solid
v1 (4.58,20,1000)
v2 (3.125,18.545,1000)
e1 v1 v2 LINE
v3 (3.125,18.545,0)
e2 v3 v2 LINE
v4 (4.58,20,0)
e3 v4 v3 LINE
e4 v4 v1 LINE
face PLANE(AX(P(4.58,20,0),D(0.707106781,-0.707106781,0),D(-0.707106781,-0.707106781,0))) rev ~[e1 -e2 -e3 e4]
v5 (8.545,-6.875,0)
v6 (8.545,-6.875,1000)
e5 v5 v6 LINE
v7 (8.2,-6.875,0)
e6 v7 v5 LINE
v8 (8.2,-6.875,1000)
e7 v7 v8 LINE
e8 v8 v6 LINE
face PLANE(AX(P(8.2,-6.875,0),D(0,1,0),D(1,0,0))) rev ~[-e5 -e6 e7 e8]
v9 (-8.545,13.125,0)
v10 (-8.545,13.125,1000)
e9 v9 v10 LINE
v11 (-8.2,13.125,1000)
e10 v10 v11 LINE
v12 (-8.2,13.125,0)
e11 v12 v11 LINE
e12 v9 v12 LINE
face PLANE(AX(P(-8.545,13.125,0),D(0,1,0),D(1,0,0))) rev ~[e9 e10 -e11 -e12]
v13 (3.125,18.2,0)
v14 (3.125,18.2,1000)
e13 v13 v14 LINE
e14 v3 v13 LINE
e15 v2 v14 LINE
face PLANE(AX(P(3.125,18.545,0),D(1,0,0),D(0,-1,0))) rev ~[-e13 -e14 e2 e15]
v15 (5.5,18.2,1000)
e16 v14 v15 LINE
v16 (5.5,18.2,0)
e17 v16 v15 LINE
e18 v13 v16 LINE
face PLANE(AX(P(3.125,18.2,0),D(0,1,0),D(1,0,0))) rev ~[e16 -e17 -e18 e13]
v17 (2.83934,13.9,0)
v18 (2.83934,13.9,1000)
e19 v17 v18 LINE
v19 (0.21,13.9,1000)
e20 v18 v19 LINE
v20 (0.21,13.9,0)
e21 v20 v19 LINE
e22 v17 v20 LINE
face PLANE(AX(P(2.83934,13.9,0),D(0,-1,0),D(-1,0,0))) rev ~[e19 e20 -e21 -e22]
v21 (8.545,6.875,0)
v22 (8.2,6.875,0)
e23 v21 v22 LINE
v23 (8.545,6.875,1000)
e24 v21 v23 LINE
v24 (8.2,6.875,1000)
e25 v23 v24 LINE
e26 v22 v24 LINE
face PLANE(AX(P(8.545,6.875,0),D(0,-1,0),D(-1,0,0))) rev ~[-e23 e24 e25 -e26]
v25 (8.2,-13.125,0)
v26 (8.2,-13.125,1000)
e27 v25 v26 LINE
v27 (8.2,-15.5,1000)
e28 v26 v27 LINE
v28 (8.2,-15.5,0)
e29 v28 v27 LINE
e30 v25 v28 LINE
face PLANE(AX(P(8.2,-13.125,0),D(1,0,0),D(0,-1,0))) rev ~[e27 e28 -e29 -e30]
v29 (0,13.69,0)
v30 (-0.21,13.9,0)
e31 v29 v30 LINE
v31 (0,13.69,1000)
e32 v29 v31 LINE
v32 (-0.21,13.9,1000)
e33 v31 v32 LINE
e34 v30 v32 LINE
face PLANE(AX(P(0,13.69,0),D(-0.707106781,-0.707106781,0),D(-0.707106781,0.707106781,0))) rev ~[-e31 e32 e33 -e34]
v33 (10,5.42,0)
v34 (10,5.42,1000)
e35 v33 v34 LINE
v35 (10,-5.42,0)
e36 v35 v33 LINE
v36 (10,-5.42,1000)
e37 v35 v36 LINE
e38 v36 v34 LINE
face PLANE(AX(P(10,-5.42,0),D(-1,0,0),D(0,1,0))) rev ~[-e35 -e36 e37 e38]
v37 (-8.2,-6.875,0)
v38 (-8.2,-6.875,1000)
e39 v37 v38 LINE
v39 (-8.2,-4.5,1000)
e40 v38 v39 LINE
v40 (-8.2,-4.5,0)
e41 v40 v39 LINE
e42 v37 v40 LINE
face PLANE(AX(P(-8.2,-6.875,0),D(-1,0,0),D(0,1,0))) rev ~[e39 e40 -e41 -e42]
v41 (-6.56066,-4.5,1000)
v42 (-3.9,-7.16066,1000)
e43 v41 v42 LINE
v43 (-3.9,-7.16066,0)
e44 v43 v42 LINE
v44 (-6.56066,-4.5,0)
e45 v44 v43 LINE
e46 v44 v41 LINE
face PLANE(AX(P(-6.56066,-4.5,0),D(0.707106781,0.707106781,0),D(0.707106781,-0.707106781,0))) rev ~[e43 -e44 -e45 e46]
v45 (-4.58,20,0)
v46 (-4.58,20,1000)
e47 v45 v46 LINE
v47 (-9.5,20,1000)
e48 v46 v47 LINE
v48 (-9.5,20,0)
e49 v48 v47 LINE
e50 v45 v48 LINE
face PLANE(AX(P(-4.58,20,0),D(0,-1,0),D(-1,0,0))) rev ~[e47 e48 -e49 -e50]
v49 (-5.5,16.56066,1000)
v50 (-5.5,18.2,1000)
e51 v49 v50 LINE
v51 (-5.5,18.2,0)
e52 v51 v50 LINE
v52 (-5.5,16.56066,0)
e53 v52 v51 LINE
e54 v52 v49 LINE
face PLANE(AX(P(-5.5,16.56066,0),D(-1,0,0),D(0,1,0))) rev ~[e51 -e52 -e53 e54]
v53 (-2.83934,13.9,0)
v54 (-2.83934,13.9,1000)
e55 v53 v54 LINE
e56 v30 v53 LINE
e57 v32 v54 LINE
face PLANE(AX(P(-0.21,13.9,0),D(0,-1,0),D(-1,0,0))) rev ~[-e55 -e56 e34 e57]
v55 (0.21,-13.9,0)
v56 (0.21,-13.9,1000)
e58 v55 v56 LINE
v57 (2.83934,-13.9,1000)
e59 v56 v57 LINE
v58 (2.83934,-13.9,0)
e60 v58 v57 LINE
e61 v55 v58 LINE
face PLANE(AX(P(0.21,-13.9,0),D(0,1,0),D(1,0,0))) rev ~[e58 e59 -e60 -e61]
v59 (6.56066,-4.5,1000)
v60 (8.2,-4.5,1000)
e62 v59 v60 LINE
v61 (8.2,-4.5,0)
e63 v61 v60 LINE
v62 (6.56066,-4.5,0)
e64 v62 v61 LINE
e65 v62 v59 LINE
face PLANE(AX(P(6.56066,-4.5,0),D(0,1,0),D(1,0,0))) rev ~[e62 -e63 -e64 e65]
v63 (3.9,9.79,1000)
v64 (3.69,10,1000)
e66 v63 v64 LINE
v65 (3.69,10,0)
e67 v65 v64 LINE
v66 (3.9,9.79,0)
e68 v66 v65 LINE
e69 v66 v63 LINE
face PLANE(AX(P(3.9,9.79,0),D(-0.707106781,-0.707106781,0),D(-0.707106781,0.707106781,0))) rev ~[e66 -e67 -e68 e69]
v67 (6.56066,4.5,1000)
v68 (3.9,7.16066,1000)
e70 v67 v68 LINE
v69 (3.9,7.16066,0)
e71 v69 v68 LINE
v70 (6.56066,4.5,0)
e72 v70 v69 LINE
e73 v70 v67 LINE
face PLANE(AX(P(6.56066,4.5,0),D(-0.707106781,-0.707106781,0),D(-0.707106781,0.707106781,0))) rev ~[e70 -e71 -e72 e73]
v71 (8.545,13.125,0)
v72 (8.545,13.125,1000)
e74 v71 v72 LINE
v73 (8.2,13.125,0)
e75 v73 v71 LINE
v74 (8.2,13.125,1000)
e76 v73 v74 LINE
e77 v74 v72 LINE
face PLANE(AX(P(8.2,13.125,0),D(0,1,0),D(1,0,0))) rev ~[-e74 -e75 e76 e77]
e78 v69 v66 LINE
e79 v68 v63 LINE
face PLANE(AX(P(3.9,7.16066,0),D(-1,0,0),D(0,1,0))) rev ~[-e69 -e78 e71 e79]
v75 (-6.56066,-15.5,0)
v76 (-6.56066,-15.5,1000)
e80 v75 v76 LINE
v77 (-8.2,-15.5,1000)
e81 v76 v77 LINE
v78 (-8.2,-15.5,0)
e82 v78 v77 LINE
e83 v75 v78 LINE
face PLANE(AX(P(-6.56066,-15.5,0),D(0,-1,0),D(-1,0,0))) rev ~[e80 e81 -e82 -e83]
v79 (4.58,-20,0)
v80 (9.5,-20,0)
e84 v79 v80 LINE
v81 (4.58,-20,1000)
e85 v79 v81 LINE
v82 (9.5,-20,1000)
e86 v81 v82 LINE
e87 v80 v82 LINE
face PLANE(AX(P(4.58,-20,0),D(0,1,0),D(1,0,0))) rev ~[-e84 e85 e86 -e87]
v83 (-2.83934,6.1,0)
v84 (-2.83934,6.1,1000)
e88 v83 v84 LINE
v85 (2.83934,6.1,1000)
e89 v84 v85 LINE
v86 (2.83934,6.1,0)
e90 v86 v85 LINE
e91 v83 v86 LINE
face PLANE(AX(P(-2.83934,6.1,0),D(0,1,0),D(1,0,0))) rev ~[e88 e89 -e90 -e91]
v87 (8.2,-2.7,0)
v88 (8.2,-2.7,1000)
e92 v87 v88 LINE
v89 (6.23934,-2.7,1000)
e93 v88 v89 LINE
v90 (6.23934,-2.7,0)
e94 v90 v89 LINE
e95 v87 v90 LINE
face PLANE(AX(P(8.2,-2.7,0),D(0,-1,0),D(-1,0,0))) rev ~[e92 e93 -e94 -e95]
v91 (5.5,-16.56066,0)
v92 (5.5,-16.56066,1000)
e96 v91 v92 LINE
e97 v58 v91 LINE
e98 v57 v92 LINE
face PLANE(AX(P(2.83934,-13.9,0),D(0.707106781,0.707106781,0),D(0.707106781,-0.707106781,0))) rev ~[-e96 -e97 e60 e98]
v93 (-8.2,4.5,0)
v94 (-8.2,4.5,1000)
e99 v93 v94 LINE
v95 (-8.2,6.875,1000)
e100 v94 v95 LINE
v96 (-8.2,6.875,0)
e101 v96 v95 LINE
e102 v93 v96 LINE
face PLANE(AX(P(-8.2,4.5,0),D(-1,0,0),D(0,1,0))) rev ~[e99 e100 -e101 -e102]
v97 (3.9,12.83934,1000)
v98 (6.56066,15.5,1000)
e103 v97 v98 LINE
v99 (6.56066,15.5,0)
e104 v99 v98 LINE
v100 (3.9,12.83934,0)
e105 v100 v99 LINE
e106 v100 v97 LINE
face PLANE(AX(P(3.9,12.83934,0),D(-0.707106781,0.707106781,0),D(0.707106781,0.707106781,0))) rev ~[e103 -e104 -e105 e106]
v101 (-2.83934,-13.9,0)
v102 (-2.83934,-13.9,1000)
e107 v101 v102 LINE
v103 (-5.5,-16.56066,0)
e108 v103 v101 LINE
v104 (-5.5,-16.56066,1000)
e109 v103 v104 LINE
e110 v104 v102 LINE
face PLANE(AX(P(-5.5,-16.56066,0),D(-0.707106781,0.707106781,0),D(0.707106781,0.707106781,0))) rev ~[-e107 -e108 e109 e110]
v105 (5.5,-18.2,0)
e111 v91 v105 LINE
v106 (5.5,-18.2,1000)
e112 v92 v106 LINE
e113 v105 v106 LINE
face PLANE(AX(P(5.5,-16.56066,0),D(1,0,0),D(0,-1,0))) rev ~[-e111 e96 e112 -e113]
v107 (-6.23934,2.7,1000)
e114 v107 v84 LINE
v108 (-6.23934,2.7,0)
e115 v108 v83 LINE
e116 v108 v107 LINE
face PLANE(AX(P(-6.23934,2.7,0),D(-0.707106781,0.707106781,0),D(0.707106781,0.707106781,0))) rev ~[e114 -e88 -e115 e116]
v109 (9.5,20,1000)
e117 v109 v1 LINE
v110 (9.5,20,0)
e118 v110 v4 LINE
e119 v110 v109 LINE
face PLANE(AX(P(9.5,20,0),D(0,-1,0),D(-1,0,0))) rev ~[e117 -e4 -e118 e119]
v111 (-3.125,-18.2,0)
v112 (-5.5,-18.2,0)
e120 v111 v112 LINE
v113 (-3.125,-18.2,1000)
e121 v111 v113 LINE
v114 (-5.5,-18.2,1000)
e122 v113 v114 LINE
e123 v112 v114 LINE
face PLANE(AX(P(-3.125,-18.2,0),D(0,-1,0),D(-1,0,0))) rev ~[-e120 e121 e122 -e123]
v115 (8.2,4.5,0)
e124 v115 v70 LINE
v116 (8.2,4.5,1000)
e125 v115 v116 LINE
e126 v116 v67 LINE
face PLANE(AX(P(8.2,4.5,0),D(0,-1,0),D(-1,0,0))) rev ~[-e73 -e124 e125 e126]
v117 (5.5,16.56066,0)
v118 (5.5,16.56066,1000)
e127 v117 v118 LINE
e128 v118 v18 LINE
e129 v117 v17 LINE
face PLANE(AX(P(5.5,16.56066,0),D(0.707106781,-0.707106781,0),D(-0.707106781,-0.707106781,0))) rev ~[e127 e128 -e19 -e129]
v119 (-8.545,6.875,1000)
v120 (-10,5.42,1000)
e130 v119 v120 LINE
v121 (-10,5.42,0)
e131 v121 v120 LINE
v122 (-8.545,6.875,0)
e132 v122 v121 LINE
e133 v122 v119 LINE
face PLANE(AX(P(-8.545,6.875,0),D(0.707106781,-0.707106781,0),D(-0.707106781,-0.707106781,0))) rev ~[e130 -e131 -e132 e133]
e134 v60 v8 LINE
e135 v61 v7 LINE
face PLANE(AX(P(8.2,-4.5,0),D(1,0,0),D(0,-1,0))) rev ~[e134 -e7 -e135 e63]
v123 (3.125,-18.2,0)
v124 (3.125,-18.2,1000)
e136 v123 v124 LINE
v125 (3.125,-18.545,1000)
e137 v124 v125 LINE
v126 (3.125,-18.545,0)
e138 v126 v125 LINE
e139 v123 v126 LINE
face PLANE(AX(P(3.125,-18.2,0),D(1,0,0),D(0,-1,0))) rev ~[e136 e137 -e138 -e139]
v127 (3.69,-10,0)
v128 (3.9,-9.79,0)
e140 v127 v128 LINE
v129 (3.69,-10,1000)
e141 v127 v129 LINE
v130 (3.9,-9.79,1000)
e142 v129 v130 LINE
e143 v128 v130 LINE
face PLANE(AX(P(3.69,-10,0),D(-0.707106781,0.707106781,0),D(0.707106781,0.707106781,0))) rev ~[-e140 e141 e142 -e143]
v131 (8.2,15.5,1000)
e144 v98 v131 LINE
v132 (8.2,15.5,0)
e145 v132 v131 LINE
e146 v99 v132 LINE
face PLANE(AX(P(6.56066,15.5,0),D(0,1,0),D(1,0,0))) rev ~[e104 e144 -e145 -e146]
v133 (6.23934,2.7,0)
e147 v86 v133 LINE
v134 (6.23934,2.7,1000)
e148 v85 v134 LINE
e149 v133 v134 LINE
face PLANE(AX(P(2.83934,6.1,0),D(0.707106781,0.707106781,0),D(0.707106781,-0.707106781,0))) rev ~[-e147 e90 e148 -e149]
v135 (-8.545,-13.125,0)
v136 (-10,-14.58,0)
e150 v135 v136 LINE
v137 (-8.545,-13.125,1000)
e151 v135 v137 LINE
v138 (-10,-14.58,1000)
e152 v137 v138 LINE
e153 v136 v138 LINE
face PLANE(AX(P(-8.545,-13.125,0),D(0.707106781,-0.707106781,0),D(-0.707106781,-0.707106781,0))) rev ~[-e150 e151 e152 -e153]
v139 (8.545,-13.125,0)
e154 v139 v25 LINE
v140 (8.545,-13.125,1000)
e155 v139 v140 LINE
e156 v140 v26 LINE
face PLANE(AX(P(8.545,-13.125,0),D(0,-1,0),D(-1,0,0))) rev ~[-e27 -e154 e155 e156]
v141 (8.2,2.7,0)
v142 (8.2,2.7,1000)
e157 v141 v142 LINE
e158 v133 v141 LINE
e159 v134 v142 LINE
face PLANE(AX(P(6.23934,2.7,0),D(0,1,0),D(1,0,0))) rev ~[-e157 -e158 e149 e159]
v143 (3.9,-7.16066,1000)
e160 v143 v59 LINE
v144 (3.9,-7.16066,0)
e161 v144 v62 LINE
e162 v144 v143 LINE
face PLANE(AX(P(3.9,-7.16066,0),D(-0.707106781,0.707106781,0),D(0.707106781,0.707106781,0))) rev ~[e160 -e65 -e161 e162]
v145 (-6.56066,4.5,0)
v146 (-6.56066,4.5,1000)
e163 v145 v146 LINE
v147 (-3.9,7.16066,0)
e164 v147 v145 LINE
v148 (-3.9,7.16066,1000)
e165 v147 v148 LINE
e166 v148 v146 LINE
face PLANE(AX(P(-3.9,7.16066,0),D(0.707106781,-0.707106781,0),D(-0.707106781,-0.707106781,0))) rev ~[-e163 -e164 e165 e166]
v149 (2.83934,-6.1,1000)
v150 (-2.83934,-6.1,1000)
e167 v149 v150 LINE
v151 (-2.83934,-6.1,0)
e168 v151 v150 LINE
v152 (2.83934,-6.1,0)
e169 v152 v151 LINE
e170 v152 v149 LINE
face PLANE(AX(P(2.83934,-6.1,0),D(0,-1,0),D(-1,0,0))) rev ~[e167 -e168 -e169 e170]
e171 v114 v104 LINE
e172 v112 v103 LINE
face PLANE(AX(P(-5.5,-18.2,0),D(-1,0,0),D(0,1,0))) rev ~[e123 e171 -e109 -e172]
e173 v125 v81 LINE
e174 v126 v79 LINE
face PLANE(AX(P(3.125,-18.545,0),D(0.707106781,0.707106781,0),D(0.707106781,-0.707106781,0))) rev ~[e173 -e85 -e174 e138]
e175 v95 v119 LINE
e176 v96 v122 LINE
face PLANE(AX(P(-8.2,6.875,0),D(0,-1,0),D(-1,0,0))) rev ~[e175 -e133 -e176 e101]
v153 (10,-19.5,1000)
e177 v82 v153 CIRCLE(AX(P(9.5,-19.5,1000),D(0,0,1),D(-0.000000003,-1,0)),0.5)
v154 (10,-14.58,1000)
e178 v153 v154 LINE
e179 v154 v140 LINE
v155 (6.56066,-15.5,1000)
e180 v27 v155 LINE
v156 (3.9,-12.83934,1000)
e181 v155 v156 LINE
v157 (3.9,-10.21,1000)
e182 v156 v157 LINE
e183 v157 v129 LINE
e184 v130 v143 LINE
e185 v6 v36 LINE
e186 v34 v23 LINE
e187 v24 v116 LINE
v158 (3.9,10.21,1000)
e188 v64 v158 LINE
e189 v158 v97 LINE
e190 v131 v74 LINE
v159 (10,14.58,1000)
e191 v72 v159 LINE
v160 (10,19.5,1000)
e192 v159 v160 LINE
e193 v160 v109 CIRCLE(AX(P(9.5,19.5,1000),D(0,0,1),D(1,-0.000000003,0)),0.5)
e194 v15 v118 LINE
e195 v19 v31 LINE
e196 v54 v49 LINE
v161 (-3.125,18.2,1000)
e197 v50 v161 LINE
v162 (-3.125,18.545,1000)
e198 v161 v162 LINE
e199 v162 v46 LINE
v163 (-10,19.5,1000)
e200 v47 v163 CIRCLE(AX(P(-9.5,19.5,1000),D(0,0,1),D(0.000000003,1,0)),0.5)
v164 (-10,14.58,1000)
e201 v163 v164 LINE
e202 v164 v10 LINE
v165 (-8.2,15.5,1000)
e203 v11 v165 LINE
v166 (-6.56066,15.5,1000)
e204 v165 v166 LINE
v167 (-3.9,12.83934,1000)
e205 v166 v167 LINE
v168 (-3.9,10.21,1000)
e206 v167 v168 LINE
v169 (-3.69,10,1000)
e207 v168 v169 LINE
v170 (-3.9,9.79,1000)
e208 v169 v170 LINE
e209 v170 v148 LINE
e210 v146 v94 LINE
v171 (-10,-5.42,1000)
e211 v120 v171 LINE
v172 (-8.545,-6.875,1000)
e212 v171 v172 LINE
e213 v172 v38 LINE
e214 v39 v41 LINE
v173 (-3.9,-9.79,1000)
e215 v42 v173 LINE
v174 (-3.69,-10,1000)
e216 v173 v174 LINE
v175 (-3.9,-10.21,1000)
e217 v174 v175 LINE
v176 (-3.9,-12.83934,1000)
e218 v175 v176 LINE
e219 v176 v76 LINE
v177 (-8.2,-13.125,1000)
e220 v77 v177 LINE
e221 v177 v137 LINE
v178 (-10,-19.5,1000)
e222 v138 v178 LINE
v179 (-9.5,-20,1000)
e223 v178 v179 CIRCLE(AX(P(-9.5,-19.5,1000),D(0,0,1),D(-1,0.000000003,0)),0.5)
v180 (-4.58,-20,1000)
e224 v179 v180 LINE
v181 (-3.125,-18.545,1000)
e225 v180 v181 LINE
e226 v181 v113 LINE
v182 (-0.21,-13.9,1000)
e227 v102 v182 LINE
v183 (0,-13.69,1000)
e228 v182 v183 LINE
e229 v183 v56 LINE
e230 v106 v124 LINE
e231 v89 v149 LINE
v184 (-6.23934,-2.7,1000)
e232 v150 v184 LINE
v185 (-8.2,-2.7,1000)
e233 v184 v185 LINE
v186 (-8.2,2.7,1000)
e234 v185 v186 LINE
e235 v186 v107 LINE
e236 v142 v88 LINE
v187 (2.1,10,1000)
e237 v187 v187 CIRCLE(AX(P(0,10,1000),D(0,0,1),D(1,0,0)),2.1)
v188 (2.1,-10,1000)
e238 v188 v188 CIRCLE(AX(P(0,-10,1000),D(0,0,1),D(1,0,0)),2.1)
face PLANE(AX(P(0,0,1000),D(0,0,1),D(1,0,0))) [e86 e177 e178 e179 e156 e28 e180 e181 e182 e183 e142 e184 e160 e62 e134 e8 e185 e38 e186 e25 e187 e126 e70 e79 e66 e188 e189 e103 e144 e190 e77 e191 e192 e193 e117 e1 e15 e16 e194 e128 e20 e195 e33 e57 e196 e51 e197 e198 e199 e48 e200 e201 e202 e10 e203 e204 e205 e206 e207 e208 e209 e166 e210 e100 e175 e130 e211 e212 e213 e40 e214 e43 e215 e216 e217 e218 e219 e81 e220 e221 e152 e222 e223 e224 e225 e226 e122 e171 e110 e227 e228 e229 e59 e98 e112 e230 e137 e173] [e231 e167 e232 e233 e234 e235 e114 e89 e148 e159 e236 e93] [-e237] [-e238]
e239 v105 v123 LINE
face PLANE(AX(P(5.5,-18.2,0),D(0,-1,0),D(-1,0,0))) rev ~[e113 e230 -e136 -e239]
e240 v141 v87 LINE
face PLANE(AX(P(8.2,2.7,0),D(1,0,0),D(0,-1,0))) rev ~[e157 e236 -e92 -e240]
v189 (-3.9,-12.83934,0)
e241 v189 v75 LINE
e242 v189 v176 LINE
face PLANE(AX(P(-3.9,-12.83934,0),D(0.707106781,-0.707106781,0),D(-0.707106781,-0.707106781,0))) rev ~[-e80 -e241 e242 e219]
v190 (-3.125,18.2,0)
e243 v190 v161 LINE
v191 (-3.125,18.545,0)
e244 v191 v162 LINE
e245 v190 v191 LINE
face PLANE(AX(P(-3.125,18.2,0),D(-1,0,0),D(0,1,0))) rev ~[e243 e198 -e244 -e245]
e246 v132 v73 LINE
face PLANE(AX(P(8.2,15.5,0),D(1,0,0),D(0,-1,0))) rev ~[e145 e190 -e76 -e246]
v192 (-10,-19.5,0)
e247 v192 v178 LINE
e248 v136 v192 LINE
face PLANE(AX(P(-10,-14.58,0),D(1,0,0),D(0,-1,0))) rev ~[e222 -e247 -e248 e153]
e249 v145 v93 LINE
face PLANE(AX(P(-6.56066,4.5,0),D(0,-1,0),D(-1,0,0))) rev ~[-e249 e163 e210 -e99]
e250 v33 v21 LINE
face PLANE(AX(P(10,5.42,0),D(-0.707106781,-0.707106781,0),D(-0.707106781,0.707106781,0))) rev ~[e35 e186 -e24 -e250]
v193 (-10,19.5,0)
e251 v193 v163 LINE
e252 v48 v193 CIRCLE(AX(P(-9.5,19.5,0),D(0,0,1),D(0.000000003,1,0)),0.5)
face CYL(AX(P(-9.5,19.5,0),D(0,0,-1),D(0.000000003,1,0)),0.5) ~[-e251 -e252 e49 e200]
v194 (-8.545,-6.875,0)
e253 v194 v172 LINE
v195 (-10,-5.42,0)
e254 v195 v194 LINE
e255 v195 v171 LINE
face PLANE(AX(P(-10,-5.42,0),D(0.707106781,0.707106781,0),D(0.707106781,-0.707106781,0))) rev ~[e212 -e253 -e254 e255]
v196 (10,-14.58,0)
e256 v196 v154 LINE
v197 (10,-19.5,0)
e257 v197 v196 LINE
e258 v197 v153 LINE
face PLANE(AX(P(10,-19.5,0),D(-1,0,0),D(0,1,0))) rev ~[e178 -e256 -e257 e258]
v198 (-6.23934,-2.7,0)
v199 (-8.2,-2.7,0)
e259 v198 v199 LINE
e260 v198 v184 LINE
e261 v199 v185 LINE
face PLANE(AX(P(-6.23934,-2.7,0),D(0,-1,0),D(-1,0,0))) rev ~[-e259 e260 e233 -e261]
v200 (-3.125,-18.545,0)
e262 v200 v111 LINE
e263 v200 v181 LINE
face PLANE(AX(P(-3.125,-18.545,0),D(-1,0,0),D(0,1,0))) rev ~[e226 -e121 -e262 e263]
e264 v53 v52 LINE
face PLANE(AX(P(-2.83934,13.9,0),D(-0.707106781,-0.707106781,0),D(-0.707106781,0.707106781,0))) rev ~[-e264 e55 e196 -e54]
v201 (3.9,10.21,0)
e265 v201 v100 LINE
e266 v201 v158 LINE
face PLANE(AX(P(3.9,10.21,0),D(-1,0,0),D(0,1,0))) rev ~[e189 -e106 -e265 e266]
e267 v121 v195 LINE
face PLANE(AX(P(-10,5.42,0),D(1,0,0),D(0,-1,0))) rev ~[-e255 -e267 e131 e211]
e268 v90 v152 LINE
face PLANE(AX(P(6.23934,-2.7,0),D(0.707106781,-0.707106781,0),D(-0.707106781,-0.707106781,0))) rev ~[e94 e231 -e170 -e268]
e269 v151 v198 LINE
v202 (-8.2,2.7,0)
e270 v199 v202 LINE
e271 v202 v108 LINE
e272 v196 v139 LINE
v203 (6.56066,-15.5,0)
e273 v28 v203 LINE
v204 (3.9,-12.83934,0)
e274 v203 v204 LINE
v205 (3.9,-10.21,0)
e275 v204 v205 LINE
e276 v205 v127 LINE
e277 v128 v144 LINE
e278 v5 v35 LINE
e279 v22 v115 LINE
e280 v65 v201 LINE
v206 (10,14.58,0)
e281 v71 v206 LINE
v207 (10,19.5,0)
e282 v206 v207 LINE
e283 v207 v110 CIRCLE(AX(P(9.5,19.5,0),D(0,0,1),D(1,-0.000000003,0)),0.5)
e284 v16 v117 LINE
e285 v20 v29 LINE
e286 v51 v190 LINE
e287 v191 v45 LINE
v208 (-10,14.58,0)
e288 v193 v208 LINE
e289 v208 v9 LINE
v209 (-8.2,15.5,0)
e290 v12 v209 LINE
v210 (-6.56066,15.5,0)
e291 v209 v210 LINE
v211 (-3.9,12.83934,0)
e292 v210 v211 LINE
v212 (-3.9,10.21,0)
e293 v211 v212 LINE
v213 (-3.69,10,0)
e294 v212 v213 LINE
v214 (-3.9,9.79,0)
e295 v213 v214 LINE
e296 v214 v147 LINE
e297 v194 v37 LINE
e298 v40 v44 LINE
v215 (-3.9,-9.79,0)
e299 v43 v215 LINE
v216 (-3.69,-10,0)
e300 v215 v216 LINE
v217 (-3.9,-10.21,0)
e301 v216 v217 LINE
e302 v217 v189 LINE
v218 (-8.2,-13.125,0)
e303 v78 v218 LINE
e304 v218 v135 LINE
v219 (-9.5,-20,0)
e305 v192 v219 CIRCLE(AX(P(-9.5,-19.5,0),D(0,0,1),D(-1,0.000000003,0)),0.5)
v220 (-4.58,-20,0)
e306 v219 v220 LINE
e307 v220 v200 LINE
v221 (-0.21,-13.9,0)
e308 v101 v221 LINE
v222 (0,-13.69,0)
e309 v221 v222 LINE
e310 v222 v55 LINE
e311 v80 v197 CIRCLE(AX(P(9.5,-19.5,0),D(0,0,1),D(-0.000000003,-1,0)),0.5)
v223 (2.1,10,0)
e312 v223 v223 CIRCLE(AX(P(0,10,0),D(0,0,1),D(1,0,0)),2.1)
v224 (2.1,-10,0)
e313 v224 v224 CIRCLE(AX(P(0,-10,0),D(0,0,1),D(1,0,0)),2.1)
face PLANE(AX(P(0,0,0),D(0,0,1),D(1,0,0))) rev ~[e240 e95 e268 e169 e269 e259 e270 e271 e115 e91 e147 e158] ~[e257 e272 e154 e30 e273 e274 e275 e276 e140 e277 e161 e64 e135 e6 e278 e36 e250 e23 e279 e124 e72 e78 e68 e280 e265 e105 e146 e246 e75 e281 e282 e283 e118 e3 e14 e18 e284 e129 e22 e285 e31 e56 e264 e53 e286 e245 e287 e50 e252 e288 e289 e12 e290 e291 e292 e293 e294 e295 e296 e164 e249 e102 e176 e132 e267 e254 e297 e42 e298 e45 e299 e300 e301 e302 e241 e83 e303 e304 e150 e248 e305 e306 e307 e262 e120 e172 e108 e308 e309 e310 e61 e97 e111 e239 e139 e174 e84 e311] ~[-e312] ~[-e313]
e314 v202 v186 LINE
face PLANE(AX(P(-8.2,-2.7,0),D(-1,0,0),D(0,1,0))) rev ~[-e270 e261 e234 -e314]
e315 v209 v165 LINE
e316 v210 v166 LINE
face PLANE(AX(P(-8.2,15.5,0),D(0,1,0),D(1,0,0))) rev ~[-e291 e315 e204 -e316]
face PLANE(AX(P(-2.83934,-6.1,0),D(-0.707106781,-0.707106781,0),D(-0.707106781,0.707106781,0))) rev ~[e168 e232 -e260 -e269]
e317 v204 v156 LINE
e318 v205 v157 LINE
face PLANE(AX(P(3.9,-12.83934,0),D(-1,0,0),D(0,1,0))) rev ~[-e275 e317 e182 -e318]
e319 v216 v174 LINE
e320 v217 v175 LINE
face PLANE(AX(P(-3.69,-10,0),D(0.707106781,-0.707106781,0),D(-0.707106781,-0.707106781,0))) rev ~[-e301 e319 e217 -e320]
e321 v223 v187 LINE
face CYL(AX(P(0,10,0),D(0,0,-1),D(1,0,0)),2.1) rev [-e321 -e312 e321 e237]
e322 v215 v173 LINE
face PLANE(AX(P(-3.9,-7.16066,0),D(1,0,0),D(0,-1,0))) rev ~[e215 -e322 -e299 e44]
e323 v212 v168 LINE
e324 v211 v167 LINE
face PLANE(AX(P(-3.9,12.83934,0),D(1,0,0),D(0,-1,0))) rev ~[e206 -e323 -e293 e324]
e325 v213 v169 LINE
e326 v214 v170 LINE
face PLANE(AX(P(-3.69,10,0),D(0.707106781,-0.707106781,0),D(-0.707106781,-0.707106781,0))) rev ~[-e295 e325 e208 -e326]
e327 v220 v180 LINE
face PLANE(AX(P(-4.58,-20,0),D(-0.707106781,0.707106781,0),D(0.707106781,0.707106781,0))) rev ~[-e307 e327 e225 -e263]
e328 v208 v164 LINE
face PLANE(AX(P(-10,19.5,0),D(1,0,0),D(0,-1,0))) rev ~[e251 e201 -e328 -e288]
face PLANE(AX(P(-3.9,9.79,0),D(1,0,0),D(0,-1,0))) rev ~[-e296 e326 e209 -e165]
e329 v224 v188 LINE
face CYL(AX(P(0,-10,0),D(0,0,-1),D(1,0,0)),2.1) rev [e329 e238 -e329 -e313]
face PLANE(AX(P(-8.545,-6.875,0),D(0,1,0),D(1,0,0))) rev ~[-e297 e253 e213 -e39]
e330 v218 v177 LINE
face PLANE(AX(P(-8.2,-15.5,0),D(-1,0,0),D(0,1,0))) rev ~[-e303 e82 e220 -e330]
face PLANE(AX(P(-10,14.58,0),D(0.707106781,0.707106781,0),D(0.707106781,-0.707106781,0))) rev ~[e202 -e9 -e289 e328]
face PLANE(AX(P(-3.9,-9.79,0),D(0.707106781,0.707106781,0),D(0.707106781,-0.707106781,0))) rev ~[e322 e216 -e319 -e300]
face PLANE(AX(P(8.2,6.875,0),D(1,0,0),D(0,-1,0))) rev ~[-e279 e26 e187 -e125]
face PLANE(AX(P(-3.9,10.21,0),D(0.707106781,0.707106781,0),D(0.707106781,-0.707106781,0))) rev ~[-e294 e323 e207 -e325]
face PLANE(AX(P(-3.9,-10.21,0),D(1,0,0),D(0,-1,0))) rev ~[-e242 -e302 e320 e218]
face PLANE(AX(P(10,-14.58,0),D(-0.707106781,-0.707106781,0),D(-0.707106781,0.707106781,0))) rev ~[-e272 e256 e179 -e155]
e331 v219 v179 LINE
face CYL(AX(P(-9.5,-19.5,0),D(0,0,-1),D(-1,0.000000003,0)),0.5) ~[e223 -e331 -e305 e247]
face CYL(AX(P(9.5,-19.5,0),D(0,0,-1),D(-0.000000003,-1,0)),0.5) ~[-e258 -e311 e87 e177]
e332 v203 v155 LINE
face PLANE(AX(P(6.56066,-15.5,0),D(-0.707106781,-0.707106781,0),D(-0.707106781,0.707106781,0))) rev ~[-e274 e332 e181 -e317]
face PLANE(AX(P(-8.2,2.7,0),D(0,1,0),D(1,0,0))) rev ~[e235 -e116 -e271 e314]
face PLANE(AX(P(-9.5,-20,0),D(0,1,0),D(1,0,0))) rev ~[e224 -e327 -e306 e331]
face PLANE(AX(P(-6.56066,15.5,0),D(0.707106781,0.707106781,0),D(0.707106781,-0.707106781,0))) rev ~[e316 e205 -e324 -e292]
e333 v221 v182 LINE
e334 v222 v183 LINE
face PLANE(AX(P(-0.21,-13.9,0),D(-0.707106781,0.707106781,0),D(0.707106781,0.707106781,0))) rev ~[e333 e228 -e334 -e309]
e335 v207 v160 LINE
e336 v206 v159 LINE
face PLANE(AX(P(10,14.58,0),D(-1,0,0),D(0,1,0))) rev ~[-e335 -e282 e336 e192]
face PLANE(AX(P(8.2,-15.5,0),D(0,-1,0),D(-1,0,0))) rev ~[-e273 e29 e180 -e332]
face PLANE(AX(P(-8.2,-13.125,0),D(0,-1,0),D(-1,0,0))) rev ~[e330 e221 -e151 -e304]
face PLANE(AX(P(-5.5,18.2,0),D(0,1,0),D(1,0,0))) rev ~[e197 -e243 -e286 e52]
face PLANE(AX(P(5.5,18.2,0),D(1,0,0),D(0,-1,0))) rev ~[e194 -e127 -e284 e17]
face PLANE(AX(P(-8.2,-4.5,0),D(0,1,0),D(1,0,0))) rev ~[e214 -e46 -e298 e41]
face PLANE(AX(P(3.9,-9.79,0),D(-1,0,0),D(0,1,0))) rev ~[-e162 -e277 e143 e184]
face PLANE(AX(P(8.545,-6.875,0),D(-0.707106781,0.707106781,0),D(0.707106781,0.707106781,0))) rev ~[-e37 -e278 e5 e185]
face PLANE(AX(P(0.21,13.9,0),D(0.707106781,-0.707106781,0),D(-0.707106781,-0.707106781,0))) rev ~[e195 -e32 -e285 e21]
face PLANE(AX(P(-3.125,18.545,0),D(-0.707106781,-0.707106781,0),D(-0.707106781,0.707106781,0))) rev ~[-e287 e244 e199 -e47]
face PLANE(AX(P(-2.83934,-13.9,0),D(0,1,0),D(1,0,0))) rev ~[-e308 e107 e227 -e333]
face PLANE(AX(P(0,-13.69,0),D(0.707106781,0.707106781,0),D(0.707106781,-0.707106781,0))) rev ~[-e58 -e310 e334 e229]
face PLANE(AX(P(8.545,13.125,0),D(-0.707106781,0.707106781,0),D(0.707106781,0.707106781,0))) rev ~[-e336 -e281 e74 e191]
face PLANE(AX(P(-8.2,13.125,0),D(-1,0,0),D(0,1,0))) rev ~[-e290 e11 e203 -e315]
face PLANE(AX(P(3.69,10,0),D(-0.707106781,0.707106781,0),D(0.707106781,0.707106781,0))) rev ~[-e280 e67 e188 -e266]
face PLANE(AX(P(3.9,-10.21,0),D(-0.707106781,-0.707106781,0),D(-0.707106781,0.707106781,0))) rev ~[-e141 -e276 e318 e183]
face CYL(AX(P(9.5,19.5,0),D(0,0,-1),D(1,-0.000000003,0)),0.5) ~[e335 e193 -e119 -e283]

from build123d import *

# Parameters (mm, degrees)
SKETCH1_R           = 2.1
BOSS_EXTRUDE1_DEPTH = 1000


with BuildPart() as part:
    # Sketch1 → Boss-Extrude1 (new body)
    with BuildSketch(Plane.XY):
        with BuildLine():
            Line((4.58, -20), (9.5, -20))
            ThreePointArc((9.5, -20), (9.853553391, -19.853553391), (10, -19.5))
            Line((10, -19.5), (10, -14.58))
            Line((10, -14.58), (8.545, -13.125))
            Line((8.545, -13.125), (8.2, -13.125))
            Line((8.2, -13.125), (8.2, -15.5))
            Line((8.2, -15.5), (6.560660172, -15.5))
            Line((6.560660172, -15.5), (3.9, -12.839339828))
            Line((3.9, -12.839339828), (3.9, -10.21))
            Line((3.9, -10.21), (3.69, -10))
            Line((3.69, -10), (3.9, -9.79))
            Line((3.9, -9.79), (3.9, -7.160660172))
            Line((3.9, -7.160660172), (6.560660172, -4.5))
            Line((6.560660172, -4.5), (8.2, -4.5))
            Line((8.2, -4.5), (8.2, -6.875))
            Line((8.2, -6.875), (8.545, -6.875))
            Line((8.545, -6.875), (10, -5.42))
            Line((10, -5.42), (10, 5.42))
            Line((10, 5.42), (8.545, 6.875))
            Line((8.545, 6.875), (8.2, 6.875))
            Line((8.2, 6.875), (8.2, 4.5))
            Line((8.2, 4.5), (6.560660172, 4.5))
            Line((6.560660172, 4.5), (3.9, 7.160660172))
            Line((3.9, 7.160660172), (3.9, 9.79))
            Line((3.9, 9.79), (3.69, 10))
            Line((3.69, 10), (3.9, 10.21))
            Line((3.9, 10.21), (3.9, 12.839339828))
            Line((3.9, 12.839339828), (6.560660172, 15.5))
            Line((6.560660172, 15.5), (8.2, 15.5))
            Line((8.2, 15.5), (8.2, 13.125))
            Line((8.2, 13.125), (8.545, 13.125))
            Line((8.545, 13.125), (10, 14.58))
            Line((10, 14.58), (10, 19.5))
            ThreePointArc((10, 19.5), (9.853553391, 19.853553391), (9.5, 20))
            Line((9.5, 20), (4.58, 20))
            Line((4.58, 20), (3.125, 18.545))
            Line((3.125, 18.545), (3.125, 18.2))
            Line((3.125, 18.2), (5.5, 18.2))
            Line((5.5, 18.2), (5.5, 16.560660172))
            Line((5.5, 16.560660172), (2.839339828, 13.9))
            Line((2.839339828, 13.9), (0.21, 13.9))
            Line((0.21, 13.9), (0, 13.69))
            Line((0, 13.69), (-0.21, 13.9))
            Line((-0.21, 13.9), (-2.839339828, 13.9))
            Line((-2.839339828, 13.9), (-5.5, 16.560660172))
            Line((-5.5, 16.560660172), (-5.5, 18.2))
            Line((-5.5, 18.2), (-3.125, 18.2))
            Line((-3.125, 18.2), (-3.125, 18.545))
            Line((-3.125, 18.545), (-4.58, 20))
            Line((-4.58, 20), (-9.5, 20))
            ThreePointArc((-9.5, 20), (-9.853553391, 19.853553391), (-10, 19.5))
            Line((-10, 19.5), (-10, 14.58))
            Line((-10, 14.58), (-8.545, 13.125))
            Line((-8.545, 13.125), (-8.2, 13.125))
            Line((-8.2, 13.125), (-8.2, 15.5))
            Line((-8.2, 15.5), (-6.560660172, 15.5))
            Line((-6.560660172, 15.5), (-3.9, 12.839339828))
            Line((-3.9, 12.839339828), (-3.9, 10.21))
            Line((-3.9, 10.21), (-3.69, 10))
            Line((-3.69, 10), (-3.9, 9.79))
            Line((-3.9, 9.79), (-3.9, 7.160660172))
            Line((-3.9, 7.160660172), (-6.560660172, 4.5))
            Line((-6.560660172, 4.5), (-8.2, 4.5))
            Line((-8.2, 4.5), (-8.2, 6.875))
            Line((-8.2, 6.875), (-8.545, 6.875))
            Line((-8.545, 6.875), (-10, 5.42))
            Line((-10, 5.42), (-10, -5.42))
            Line((-10, -5.42), (-8.545, -6.875))
            Line((-8.545, -6.875), (-8.2, -6.875))
            Line((-8.2, -6.875), (-8.2, -4.5))
            Line((-8.2, -4.5), (-6.560660172, -4.5))
            Line((-6.560660172, -4.5), (-3.9, -7.160660172))
            Line((-3.9, -7.160660172), (-3.9, -9.79))
            Line((-3.9, -9.79), (-3.69, -10))
            Line((-3.69, -10), (-3.9, -10.21))
            Line((-3.9, -10.21), (-3.9, -12.839339828))
            Line((-3.9, -12.839339828), (-6.560660172, -15.5))
            Line((-6.560660172, -15.5), (-8.2, -15.5))
            Line((-8.2, -15.5), (-8.2, -13.125))
            Line((-8.2, -13.125), (-8.545, -13.125))
            Line((-8.545, -13.125), (-10, -14.58))
            Line((-10, -14.58), (-10, -19.5))
            ThreePointArc((-10, -19.5), (-9.853553391, -19.853553391), (-9.5, -20))
            Line((-9.5, -20), (-4.58, -20))
            Line((-4.58, -20), (-3.125, -18.545))
            Line((-3.125, -18.545), (-3.125, -18.2))
            Line((-3.125, -18.2), (-5.5, -18.2))
            Line((-5.5, -18.2), (-5.5, -16.560660172))
            Line((-5.5, -16.560660172), (-2.839339828, -13.9))
            Line((-2.839339828, -13.9), (-0.21, -13.9))
            Line((-0.21, -13.9), (0, -13.69))
            Line((0, -13.69), (0.21, -13.9))
            Line((0.21, -13.9), (2.839339828, -13.9))
            Line((2.839339828, -13.9), (5.5, -16.560660172))
            Line((5.5, -16.560660172), (5.5, -18.2))
            Line((5.5, -18.2), (3.125, -18.2))
            Line((3.125, -18.2), (3.125, -18.545))
            Line((3.125, -18.545), (4.58, -20))
        make_face()
        with Locations((0, -10)):
            Circle(SKETCH1_R, mode=Mode.SUBTRACT)
        Polygon((-6.239339828, -2.7), (-8.2, -2.7), (-8.2, 2.7), (-6.239339828, 2.7), (-2.839339828, 6.1), (2.839339828, 6.1), (6.239339828, 2.7), (8.2, 2.7), (8.2, -2.7), (6.239339828, -2.7), (2.839339828, -6.1), (-2.839339828, -6.1), align=None, mode=Mode.SUBTRACT)
        with Locations((0, 10)):
            Circle(SKETCH1_R, mode=Mode.SUBTRACT)
    extrude(amount=BOSS_EXTRUDE1_DEPTH)


solid = part.part
